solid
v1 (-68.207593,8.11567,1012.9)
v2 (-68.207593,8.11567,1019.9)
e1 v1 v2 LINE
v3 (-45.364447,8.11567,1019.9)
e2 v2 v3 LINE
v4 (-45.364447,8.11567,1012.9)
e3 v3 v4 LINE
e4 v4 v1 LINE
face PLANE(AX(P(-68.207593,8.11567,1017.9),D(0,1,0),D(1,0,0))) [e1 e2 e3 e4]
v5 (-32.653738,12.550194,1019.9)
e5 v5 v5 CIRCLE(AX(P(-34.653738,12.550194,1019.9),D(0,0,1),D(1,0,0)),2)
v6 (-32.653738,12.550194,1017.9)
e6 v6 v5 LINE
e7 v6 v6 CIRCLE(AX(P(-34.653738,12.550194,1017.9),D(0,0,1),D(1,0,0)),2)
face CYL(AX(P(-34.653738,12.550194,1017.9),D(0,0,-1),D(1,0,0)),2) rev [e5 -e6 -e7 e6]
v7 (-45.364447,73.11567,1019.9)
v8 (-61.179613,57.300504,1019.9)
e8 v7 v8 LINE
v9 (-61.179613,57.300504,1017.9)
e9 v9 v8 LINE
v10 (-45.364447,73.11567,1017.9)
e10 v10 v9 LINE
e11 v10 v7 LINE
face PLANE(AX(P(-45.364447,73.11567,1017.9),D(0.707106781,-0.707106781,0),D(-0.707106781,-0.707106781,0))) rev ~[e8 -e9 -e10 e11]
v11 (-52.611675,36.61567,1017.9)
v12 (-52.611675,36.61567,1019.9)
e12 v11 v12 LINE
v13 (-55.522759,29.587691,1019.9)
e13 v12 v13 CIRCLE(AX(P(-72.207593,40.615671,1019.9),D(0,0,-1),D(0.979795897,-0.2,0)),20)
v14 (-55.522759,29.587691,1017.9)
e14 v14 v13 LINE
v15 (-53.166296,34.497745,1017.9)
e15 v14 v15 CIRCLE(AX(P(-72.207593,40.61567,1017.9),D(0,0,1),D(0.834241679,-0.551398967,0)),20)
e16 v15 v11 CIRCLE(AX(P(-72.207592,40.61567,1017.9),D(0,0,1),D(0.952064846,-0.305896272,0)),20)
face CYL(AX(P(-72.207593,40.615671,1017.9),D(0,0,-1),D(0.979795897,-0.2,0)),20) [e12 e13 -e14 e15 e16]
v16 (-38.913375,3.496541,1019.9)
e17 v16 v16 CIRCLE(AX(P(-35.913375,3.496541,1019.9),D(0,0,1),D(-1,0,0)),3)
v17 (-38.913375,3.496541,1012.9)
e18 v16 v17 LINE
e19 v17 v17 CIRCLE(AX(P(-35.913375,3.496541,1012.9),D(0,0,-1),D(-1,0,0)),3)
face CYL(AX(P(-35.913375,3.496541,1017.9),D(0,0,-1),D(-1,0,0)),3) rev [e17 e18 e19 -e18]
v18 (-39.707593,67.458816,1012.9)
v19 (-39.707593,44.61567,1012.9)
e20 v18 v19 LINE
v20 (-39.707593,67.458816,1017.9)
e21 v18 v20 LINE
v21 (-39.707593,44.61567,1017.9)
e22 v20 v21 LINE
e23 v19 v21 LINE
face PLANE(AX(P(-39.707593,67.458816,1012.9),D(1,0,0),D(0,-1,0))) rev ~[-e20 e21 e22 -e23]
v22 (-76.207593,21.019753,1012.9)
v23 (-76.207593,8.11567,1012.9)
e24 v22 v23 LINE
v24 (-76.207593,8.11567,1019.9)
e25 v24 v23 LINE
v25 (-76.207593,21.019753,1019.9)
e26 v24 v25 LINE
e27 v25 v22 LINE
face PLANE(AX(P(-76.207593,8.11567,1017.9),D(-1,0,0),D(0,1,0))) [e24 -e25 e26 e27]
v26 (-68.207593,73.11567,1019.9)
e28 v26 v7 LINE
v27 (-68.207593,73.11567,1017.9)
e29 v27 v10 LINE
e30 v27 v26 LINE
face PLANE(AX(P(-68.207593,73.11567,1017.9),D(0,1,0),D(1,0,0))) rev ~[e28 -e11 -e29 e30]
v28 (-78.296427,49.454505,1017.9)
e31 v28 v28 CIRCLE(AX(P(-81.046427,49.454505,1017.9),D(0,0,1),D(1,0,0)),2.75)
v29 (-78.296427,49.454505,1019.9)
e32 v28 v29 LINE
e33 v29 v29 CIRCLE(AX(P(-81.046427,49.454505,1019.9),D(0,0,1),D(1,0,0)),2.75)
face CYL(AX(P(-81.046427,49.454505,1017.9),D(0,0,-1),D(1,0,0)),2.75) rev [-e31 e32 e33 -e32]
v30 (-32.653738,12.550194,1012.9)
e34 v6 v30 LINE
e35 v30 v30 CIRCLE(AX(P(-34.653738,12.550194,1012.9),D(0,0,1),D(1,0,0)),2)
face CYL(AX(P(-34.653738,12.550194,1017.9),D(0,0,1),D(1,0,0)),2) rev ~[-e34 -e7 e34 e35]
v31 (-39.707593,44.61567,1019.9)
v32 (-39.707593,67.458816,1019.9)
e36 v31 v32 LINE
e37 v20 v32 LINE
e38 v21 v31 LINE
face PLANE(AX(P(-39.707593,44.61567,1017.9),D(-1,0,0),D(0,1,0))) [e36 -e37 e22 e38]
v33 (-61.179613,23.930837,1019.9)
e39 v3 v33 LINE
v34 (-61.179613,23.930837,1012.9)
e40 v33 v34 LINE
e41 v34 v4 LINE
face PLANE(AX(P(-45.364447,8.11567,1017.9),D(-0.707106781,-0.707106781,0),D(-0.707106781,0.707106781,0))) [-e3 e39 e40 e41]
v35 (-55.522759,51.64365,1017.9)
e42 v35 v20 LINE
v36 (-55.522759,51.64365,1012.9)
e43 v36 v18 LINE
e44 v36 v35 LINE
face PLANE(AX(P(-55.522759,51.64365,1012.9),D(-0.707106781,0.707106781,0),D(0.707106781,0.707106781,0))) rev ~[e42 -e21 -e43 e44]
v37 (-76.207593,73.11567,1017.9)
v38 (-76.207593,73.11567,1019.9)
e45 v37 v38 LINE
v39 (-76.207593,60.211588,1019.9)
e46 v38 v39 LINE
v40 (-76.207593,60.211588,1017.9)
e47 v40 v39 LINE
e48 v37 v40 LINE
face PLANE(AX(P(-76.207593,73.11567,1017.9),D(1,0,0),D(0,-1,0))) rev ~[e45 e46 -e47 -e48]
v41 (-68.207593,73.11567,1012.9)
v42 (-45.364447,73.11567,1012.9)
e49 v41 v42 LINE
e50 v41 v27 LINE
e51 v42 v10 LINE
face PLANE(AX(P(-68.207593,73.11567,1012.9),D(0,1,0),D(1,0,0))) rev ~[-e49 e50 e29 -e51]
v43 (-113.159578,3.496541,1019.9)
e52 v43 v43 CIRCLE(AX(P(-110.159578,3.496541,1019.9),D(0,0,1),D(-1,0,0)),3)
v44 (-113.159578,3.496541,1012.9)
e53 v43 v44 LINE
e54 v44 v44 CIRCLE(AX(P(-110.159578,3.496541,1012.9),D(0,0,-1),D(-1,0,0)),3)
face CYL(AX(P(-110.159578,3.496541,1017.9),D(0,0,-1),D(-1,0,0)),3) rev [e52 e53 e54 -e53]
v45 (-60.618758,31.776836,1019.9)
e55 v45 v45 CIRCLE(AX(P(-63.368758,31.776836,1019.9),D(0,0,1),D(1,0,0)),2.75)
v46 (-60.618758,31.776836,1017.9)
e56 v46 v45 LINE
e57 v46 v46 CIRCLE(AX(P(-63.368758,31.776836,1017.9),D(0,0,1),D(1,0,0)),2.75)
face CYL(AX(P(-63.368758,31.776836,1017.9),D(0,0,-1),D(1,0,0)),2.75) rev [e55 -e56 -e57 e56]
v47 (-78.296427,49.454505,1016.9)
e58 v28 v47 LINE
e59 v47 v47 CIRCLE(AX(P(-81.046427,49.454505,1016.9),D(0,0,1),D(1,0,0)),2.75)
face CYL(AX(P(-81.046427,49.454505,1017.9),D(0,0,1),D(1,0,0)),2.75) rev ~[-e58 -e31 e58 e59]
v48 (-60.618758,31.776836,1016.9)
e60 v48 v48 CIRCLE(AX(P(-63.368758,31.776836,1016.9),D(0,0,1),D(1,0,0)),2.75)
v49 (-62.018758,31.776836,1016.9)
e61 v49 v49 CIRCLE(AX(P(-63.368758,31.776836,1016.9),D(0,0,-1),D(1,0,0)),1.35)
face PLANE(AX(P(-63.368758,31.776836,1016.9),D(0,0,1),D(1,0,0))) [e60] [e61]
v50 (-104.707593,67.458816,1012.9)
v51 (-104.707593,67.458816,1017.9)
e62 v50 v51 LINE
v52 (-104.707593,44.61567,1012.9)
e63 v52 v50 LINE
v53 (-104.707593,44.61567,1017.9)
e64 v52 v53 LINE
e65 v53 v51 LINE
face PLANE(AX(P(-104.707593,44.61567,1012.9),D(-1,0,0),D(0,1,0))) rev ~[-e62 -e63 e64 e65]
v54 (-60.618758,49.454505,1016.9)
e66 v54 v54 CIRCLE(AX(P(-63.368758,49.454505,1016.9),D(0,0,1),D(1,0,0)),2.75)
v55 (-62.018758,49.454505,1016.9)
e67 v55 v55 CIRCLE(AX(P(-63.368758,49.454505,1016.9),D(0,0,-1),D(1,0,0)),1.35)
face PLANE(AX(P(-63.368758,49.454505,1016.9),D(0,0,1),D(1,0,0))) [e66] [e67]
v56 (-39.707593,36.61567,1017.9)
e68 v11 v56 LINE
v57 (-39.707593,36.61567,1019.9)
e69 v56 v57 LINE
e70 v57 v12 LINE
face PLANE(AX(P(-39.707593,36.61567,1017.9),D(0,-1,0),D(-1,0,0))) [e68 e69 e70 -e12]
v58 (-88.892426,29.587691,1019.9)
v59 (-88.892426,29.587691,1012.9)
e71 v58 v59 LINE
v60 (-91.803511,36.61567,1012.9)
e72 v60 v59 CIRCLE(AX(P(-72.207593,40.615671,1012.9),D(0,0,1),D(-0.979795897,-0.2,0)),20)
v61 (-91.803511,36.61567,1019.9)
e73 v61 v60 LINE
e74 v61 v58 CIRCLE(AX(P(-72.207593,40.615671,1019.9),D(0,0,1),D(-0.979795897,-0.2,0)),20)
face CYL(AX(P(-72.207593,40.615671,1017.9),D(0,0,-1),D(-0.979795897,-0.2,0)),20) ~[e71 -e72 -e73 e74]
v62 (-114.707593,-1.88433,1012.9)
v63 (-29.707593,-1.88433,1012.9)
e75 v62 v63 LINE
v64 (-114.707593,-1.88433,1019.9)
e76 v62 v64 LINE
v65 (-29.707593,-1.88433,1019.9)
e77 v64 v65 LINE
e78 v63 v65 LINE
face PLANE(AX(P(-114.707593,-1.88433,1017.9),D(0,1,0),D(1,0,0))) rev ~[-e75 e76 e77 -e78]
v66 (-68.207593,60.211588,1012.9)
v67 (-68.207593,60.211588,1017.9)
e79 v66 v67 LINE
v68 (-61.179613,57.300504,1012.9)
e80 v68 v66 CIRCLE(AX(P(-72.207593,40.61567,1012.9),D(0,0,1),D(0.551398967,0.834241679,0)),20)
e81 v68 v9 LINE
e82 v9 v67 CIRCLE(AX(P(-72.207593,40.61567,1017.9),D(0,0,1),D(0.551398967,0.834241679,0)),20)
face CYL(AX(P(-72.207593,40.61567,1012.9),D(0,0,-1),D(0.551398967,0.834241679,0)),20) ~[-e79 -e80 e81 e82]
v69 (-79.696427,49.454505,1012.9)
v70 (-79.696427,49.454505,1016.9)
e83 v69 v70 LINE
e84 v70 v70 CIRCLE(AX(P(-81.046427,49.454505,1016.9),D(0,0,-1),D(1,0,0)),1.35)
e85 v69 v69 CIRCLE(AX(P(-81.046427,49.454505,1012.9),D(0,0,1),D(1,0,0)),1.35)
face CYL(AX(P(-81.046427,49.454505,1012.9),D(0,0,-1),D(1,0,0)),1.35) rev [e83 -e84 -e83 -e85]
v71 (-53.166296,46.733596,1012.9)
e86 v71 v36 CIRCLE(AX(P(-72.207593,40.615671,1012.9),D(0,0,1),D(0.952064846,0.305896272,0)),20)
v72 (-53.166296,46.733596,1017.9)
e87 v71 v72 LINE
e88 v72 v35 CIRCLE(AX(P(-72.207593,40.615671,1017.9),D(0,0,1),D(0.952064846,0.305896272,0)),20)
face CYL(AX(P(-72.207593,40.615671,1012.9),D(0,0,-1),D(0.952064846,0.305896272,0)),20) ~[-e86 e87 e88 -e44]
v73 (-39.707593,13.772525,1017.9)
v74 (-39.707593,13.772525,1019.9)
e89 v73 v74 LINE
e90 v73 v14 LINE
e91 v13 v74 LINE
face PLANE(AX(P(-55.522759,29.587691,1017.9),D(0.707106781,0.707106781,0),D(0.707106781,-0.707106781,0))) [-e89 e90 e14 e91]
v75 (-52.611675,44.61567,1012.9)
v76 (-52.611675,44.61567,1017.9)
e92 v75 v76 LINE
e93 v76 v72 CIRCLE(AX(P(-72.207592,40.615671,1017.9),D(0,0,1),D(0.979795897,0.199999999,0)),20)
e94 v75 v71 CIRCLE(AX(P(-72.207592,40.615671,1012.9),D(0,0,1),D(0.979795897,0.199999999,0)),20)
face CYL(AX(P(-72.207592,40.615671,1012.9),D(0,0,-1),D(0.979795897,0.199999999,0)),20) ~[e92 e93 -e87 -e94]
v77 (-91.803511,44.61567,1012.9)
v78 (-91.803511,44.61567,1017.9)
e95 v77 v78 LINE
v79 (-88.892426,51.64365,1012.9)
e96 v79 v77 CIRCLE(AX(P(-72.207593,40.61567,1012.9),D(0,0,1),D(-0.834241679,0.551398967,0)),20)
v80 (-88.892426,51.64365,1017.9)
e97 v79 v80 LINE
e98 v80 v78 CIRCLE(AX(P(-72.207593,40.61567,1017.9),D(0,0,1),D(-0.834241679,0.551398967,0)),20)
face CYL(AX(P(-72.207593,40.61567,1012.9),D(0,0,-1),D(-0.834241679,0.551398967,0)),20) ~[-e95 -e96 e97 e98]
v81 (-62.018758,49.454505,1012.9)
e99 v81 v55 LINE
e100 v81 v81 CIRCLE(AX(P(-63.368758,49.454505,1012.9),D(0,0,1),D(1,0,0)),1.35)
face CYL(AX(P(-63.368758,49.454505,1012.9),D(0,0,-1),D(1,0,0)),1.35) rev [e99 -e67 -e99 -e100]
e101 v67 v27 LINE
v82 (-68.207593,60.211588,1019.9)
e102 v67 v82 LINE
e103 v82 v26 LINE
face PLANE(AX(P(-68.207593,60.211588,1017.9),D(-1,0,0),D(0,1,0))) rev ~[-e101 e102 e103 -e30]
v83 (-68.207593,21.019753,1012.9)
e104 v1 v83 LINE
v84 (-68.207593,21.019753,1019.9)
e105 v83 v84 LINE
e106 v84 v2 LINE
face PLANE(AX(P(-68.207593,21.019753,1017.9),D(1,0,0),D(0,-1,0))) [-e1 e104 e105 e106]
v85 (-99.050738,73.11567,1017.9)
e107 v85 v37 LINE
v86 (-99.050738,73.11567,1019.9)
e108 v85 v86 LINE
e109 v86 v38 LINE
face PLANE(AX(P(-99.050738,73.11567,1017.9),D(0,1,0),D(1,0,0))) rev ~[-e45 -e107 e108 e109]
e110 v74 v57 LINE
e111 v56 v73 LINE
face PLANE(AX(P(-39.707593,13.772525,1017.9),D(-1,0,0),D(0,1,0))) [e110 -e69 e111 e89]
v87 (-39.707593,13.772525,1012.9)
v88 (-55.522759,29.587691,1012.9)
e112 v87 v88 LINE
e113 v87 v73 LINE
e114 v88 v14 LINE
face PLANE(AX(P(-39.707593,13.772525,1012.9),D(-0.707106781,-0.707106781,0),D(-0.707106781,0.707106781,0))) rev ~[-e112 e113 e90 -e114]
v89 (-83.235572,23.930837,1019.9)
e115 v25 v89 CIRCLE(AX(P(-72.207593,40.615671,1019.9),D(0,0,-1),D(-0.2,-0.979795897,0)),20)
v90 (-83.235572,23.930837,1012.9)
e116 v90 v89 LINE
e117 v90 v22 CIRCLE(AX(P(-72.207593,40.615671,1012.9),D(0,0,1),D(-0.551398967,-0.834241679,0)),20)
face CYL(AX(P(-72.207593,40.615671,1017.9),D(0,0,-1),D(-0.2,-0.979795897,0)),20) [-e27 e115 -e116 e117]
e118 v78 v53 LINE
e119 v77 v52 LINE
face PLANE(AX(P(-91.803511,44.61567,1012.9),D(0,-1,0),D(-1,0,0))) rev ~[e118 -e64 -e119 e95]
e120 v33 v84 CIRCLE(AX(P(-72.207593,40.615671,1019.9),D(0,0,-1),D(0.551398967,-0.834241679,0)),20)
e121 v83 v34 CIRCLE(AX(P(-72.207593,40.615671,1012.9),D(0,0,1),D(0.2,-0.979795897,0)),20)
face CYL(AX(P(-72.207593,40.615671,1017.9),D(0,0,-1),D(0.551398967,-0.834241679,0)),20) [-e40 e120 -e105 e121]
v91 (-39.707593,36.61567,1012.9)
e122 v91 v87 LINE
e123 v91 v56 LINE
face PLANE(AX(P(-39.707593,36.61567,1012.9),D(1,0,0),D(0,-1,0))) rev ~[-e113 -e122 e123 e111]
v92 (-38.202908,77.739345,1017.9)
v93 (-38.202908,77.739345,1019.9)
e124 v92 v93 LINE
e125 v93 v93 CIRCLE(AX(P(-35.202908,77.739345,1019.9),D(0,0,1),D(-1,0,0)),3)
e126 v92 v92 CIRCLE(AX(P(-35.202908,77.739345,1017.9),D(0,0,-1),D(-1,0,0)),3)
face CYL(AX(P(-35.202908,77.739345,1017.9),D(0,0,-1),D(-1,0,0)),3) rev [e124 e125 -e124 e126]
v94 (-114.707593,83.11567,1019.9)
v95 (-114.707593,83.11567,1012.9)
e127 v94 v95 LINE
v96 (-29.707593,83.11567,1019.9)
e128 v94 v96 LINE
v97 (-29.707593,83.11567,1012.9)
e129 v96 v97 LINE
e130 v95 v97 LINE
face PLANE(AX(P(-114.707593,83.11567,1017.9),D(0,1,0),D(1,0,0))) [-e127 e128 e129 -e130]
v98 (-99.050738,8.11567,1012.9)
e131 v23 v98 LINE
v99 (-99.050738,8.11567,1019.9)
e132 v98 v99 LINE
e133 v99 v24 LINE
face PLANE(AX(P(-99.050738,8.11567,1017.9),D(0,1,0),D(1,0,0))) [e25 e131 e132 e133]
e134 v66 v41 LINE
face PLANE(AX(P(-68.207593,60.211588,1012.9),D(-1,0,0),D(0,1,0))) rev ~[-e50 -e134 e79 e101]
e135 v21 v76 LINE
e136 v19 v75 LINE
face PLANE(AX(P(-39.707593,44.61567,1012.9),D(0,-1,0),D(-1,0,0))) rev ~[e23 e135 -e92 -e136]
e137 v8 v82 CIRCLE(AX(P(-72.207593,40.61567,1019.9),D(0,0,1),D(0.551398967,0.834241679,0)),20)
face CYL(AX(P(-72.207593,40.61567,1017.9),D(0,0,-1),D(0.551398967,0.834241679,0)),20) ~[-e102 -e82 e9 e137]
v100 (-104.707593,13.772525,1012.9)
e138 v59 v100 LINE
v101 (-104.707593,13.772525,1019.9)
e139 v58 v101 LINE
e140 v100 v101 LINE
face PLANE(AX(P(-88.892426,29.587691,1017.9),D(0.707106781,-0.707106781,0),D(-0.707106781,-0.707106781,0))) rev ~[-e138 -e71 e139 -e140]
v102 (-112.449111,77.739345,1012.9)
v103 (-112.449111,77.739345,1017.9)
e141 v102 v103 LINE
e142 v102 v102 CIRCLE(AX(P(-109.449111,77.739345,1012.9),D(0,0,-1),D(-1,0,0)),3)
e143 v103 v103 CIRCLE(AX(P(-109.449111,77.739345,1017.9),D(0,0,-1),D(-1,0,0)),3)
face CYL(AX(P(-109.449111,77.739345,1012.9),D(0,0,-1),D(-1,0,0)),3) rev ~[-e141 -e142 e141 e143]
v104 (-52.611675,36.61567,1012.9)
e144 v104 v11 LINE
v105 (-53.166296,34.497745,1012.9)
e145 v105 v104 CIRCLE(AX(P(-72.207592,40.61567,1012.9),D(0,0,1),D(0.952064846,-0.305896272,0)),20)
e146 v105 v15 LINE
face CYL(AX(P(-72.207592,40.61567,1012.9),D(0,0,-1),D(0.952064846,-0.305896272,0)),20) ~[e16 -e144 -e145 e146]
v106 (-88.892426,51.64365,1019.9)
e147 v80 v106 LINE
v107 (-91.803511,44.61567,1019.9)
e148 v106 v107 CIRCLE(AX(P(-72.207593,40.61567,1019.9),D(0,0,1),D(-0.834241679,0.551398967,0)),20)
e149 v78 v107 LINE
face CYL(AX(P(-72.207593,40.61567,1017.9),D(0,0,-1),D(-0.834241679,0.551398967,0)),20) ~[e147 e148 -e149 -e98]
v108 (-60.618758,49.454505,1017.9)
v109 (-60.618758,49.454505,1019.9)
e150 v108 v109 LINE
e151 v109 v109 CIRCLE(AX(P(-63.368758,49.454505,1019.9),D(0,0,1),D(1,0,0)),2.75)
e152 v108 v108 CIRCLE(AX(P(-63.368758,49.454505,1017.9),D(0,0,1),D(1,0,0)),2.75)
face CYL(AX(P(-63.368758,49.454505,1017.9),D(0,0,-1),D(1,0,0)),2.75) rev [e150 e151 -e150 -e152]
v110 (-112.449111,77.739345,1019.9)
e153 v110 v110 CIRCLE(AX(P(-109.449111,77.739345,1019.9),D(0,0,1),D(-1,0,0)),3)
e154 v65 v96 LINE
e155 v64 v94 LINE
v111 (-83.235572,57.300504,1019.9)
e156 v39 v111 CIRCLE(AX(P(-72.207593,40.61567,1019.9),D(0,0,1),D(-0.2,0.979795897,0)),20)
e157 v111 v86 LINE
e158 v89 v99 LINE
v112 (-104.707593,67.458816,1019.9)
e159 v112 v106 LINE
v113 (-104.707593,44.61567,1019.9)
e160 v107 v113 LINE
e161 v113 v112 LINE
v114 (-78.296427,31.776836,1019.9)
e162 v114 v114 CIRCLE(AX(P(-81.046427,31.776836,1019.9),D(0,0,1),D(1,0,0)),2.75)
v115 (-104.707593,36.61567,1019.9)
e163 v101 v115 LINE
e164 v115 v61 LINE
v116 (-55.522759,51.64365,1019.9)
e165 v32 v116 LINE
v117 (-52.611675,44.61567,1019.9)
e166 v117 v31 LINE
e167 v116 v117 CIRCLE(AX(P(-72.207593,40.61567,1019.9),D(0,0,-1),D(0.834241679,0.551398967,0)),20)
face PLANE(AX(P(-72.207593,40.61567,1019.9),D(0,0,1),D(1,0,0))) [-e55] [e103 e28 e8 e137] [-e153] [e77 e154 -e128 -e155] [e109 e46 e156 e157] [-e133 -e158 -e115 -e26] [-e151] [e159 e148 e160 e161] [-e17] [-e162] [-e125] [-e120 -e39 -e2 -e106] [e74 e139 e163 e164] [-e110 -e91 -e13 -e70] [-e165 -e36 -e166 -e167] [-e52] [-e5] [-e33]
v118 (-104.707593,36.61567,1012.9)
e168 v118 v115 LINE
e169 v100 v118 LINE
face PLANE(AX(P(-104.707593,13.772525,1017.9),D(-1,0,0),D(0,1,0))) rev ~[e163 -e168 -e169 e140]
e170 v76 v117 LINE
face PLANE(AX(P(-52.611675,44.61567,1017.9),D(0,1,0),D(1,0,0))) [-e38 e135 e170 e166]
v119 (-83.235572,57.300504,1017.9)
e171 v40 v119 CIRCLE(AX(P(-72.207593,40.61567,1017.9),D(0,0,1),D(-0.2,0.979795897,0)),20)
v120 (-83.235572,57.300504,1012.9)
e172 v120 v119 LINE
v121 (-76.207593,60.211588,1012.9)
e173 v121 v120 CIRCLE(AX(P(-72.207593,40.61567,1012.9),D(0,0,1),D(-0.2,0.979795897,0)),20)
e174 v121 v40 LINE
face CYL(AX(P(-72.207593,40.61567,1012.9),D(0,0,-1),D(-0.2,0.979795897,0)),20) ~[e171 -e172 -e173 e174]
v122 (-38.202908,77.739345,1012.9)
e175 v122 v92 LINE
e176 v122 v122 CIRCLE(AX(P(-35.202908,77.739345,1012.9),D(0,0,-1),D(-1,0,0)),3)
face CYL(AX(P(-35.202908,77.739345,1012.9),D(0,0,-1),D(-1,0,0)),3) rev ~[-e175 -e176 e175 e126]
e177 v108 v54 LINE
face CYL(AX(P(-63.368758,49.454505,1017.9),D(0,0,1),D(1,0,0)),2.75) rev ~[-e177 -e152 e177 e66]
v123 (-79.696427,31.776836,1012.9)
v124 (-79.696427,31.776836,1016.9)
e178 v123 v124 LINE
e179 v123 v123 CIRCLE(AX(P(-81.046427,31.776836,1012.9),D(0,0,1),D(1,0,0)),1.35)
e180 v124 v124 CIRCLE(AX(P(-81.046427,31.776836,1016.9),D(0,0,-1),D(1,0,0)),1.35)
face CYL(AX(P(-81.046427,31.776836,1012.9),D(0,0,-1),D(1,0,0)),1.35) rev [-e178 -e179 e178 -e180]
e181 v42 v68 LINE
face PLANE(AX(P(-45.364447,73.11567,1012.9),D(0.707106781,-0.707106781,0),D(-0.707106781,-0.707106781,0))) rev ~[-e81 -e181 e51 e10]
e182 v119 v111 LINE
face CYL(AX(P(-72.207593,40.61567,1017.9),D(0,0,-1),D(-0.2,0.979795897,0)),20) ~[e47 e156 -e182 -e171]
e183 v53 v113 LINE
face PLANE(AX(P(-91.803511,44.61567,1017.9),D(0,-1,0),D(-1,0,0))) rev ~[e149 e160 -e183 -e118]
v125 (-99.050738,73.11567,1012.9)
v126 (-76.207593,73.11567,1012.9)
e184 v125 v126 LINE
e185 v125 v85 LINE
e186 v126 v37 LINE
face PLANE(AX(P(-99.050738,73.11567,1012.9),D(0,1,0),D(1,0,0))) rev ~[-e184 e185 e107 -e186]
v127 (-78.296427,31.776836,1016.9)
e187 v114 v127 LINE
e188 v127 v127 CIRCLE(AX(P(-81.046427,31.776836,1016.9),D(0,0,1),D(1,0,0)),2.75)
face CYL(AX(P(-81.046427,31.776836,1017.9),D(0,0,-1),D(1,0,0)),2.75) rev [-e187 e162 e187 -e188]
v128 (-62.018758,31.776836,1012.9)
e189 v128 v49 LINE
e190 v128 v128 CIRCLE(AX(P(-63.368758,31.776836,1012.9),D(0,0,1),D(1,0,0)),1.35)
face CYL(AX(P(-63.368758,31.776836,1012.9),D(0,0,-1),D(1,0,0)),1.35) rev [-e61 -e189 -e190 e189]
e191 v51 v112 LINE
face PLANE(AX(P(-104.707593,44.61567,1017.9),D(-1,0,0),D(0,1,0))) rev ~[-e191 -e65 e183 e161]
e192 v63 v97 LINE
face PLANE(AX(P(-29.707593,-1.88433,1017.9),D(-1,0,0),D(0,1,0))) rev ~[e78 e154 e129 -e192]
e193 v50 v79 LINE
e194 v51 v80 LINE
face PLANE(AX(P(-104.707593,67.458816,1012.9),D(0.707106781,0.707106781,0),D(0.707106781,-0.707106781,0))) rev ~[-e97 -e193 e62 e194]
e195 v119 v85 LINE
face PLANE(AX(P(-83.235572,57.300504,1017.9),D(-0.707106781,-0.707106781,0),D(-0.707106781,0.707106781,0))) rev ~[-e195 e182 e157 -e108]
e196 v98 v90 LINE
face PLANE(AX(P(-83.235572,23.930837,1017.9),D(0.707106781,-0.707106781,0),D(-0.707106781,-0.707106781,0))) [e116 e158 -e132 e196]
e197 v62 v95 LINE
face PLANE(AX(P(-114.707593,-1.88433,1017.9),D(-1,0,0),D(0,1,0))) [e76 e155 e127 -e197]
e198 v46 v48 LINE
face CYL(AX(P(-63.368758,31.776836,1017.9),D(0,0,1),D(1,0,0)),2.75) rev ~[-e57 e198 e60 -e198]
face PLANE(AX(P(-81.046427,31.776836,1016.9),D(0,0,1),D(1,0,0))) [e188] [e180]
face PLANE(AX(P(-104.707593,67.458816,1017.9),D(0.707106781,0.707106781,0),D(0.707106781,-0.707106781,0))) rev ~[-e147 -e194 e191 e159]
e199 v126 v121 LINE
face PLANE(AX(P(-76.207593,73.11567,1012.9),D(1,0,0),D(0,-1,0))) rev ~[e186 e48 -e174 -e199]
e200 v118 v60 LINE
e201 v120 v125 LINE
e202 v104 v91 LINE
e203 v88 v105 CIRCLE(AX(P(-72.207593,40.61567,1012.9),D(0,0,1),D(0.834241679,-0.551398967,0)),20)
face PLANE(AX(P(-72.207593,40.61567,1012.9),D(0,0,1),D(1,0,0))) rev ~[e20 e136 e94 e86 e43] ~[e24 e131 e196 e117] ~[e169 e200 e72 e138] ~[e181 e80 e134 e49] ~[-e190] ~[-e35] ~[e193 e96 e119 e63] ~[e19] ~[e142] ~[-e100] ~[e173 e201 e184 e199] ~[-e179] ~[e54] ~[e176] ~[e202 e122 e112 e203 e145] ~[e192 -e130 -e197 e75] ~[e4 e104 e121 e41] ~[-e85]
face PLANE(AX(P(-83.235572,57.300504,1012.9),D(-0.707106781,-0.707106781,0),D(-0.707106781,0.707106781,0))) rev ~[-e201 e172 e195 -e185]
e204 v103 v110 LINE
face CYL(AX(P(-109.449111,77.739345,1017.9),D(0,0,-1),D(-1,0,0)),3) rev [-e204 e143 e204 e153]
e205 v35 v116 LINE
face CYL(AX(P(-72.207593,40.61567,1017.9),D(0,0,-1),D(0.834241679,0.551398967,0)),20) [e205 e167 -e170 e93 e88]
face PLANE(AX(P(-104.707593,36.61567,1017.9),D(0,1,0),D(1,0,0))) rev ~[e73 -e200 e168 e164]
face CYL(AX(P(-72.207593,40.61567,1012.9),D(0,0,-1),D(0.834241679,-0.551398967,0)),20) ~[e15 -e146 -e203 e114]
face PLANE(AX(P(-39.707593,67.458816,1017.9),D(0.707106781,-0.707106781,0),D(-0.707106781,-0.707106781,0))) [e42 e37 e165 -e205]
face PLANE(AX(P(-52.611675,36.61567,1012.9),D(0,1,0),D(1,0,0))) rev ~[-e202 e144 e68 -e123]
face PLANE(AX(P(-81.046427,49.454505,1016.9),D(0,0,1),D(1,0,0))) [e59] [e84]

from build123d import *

# Parameters (mm, degrees)
CROQUIS1_W              = 85
CROQUIS1_H              = 85
CROQUIS1_R              = 2.9
CROQUIS1_R_2            = 1.35
SALIENTE_EXTRUIR1_DEPTH = 5
CROQUIS3_R              = 2.75
CORTAR_EXTRUIR2_DEPTH   = 1
CROQUIS4_R              = 2
CORTAR_EXTRUIR3_DEPTH   = 142.742888627
CROQUIS5_R              = 3
CORTAR_EXTRUIR4_DEPTH   = 142.742888627
CROQUIS6_W              = 85
CROQUIS6_H              = 85
CROQUIS6_R              = 2.75
CROQUIS6_R_2            = 3
CROQUIS6_R_3            = 2
SALIENTE_EXTRUIR2_DEPTH = 2


with BuildPart() as part:
    # Croquis1 → Saliente-Extruir1 (new body)
    with BuildSketch(Plane.XY.offset(1012.9)):
        with Locations((-72.207592574, 40.615670498)):
            Rectangle(CROQUIS1_W, CROQUIS1_H)
        with BuildLine():
            Line((-99.050738324, 73.115670498), (-76.207592574, 73.115670498))
            Line((-76.207592574, 73.115670498), (-76.207592574, 60.21158844))
            ThreePointArc((-76.207592574, 60.21158844), (-72.207592574, 60.615670498), (-68.207592574, 60.21158844))
            Line((-68.207592574, 60.21158844), (-68.207592574, 73.115670498))
            Line((-68.207592574, 73.115670498), (-45.364446823, 73.115670498))
            Line((-45.364446823, 73.115670498), (-61.179613238, 57.300504083))
            ThreePointArc((-61.179613238, 57.300504083), (-58.06545695, 54.757806122), (-55.522758989, 51.643649834))
            Line((-55.522758989, 51.643649834), (-39.707592574, 67.458816249))
            Line((-39.707592574, 67.458816249), (-39.707592574, 44.615670498))
            Line((-39.707592574, 44.615670498), (-52.611674632, 44.615670498))
            ThreePointArc((-52.611674632, 44.615670498), (-52.859983028, 45.682227995), (-53.166295653, 46.733595929))
            Line((-53.166295653, 46.733595929), (-58.538384228, 46.733595929))
            ThreePointArc((-58.538384228, 46.733595929), (-59.599044399, 46.294256101), (-60.038384228, 45.233595929))
            Line((-60.038384228, 45.233595929), (-60.038384228, 35.997745067))
            ThreePointArc((-60.038384228, 35.997745067), (-59.599044399, 34.937084896), (-58.538384228, 34.497745067))
            Line((-58.538384228, 34.497745067), (-53.166295653, 34.497745067))
            ThreePointArc((-53.166295653, 34.497745067), (-52.859983028, 35.549113001), (-52.611674632, 36.615670498))
            Line((-52.611674632, 36.615670498), (-39.707592574, 36.615670498))
            Line((-39.707592574, 36.615670498), (-39.707592574, 13.772524748))
            Line((-39.707592574, 13.772524748), (-55.522758989, 29.587691162))
            ThreePointArc((-55.522758989, 29.587691162), (-58.06545695, 26.473534874), (-61.179613238, 23.930836913))
            Line((-61.179613238, 23.930836913), (-45.364446823, 8.115670498))
            Line((-45.364446823, 8.115670498), (-68.207592574, 8.115670498))
            Line((-68.207592574, 8.115670498), (-68.207592574, 21.019752556))
            ThreePointArc((-68.207592574, 21.019752556), (-72.207592574, 20.615670498), (-76.207592574, 21.019752556))
            Line((-76.207592574, 21.019752556), (-76.207592574, 8.115670498))
            Line((-76.207592574, 8.115670498), (-99.050738324, 8.115670498))
            Line((-99.050738324, 8.115670498), (-83.23557191, 23.930836913))
            ThreePointArc((-83.23557191, 23.930836913), (-86.349728198, 26.473534874), (-88.892426159, 29.587691162))
            Line((-88.892426159, 29.587691162), (-104.707592574, 13.772524748))
            Line((-104.707592574, 13.772524748), (-104.707592574, 36.615670498))
            Line((-104.707592574, 36.615670498), (-91.803510516, 36.615670498))
            ThreePointArc((-91.803510516, 36.615670498), (-92.207592574, 40.615670498), (-91.803510516, 44.615670498))
            Line((-91.803510516, 44.615670498), (-104.707592574, 44.615670498))
            Line((-104.707592574, 44.615670498), (-104.707592574, 67.458816249))
            Line((-104.707592574, 67.458816249), (-88.892426159, 51.643649834))
            ThreePointArc((-88.892426159, 51.643649834), (-86.349728198, 54.757806122), (-83.23557191, 57.300504083))
            Line((-83.23557191, 57.300504083), (-99.050738324, 73.115670498))
        make_face(mode=Mode.SUBTRACT)
        with BuildLine():
            ThreePointArc((-68.207592574, 60.21158844), (-72.207592574, 60.615670498), (-76.207592574, 60.21158844))
            ThreePointArc((-76.207592574, 60.21158844), (-79.861261221, 59.093261148), (-83.23557191, 57.300504083))
            ThreePointArc((-83.23557191, 57.300504083), (-86.349728198, 54.757806122), (-88.892426159, 51.643649834))
            ThreePointArc((-88.892426159, 51.643649834), (-90.685183224, 48.269339145), (-91.803510516, 44.615670498))
            ThreePointArc((-91.803510516, 44.615670498), (-92.207592574, 40.615670498), (-91.803510516, 36.615670498))
            ThreePointArc((-91.803510516, 36.615670498), (-90.685183224, 32.962001851), (-88.892426159, 29.587691162))
            ThreePointArc((-88.892426159, 29.587691162), (-86.349728198, 26.473534874), (-83.23557191, 23.930836913))
            ThreePointArc((-83.23557191, 23.930836913), (-79.861261221, 22.138079848), (-76.207592574, 21.019752556))
            ThreePointArc((-76.207592574, 21.019752556), (-72.207592574, 20.615670498), (-68.207592574, 21.019752556))
            ThreePointArc((-68.207592574, 21.019752556), (-64.553923927, 22.138079848), (-61.179613238, 23.930836913))
            ThreePointArc((-61.179613238, 23.930836913), (-58.06545695, 26.473534874), (-55.522758989, 29.587691162))
            ThreePointArc((-55.522758989, 29.587691162), (-54.17661208, 31.962131197), (-53.166295653, 34.497745067))
            Line((-53.166295653, 34.497745067), (-58.538384228, 34.497745067))
            ThreePointArc((-58.538384228, 34.497745067), (-59.599044399, 34.937084896), (-60.038384228, 35.997745067))
            Line((-60.038384228, 35.997745067), (-60.038384228, 45.233595929))
            ThreePointArc((-60.038384228, 45.233595929), (-59.599044399, 46.294256101), (-58.538384228, 46.733595929))
            Line((-58.538384228, 46.733595929), (-53.166295653, 46.733595929))
            ThreePointArc((-53.166295653, 46.733595929), (-54.17661208, 49.269209799), (-55.522758989, 51.643649834))
            ThreePointArc((-55.522758989, 51.643649834), (-58.06545695, 54.757806122), (-61.179613238, 57.300504083))
            ThreePointArc((-61.179613238, 57.300504083), (-64.553923927, 59.093261148), (-68.207592574, 60.21158844))
        make_face()
        with Locations((-84.228407854, 28.594855218)):
            Circle(CROQUIS1_R, mode=Mode.SUBTRACT)
        with Locations((-81.046427339, 31.776835733)):
            Circle(CROQUIS1_R_2, mode=Mode.SUBTRACT)
        with Locations((-60.186777294, 28.594855218)):
            Circle(CROQUIS1_R, mode=Mode.SUBTRACT)
        with Locations((-63.368757809, 31.776835733)):
            Circle(CROQUIS1_R_2, mode=Mode.SUBTRACT)
        with Locations((-81.046427339, 49.454505263)):
            Circle(CROQUIS1_R_2, mode=Mode.SUBTRACT)
        with Locations((-84.228407854, 52.636485778)):
            Circle(CROQUIS1_R, mode=Mode.SUBTRACT)
        with Locations((-63.368757809, 49.454505263)):
            Circle(CROQUIS1_R_2, mode=Mode.SUBTRACT)
        with Locations((-60.186777294, 52.636485778)):
            Circle(CROQUIS1_R, mode=Mode.SUBTRACT)
        with BuildLine():
            ThreePointArc((-68.207592574, 60.21158844), (-72.207592574, 60.615670498), (-76.207592574, 60.21158844))
            ThreePointArc((-76.207592574, 60.21158844), (-79.861261221, 59.093261148), (-83.23557191, 57.300504083))
            ThreePointArc((-83.23557191, 57.300504083), (-86.349728198, 54.757806122), (-88.892426159, 51.643649834))
            ThreePointArc((-88.892426159, 51.643649834), (-90.685183224, 48.269339145), (-91.803510516, 44.615670498))
            ThreePointArc((-91.803510516, 44.615670498), (-92.207592574, 40.615670498), (-91.803510516, 36.615670498))
            ThreePointArc((-91.803510516, 36.615670498), (-90.685183224, 32.962001851), (-88.892426159, 29.587691162))
            ThreePointArc((-88.892426159, 29.587691162), (-86.349728198, 26.473534874), (-83.23557191, 23.930836913))
            ThreePointArc((-83.23557191, 23.930836913), (-79.861261221, 22.138079848), (-76.207592574, 21.019752556))
            ThreePointArc((-76.207592574, 21.019752556), (-72.207592574, 20.615670498), (-68.207592574, 21.019752556))
            ThreePointArc((-68.207592574, 21.019752556), (-64.553923927, 22.138079848), (-61.179613238, 23.930836913))
            ThreePointArc((-61.179613238, 23.930836913), (-58.06545695, 26.473534874), (-55.522758989, 29.587691162))
            ThreePointArc((-55.522758989, 29.587691162), (-54.17661208, 31.962131197), (-53.166295653, 34.497745067))
            Line((-53.166295653, 34.497745067), (-58.538384228, 34.497745067))
            ThreePointArc((-58.538384228, 34.497745067), (-59.599044399, 34.937084896), (-60.038384228, 35.997745067))
            Line((-60.038384228, 35.997745067), (-60.038384228, 45.233595929))
            ThreePointArc((-60.038384228, 45.233595929), (-59.599044399, 46.294256101), (-58.538384228, 46.733595929))
            Line((-58.538384228, 46.733595929), (-53.166295653, 46.733595929))
            ThreePointArc((-53.166295653, 46.733595929), (-54.17661208, 49.269209799), (-55.522758989, 51.643649834))
            ThreePointArc((-55.522758989, 51.643649834), (-58.06545695, 54.757806122), (-61.179613238, 57.300504083))
            ThreePointArc((-61.179613238, 57.300504083), (-64.553923927, 59.093261148), (-68.207592574, 60.21158844))
        make_face()
        with Locations((-84.228407854, 28.594855218)):
            Circle(CROQUIS1_R, mode=Mode.SUBTRACT)
        with Locations((-81.046427339, 31.776835733)):
            Circle(CROQUIS1_R_2, mode=Mode.SUBTRACT)
        with Locations((-60.186777294, 28.594855218)):
            Circle(CROQUIS1_R, mode=Mode.SUBTRACT)
        with Locations((-63.368757809, 31.776835733)):
            Circle(CROQUIS1_R_2, mode=Mode.SUBTRACT)
        with Locations((-81.046427339, 49.454505263)):
            Circle(CROQUIS1_R_2, mode=Mode.SUBTRACT)
        with Locations((-84.228407854, 52.636485778)):
            Circle(CROQUIS1_R, mode=Mode.SUBTRACT)
        with Locations((-63.368757809, 49.454505263)):
            Circle(CROQUIS1_R_2, mode=Mode.SUBTRACT)
        with Locations((-60.186777294, 52.636485778)):
            Circle(CROQUIS1_R, mode=Mode.SUBTRACT)
        with BuildLine():
            ThreePointArc((-68.207592574, 60.21158844), (-72.207592574, 60.615670498), (-76.207592574, 60.21158844))
            ThreePointArc((-76.207592574, 60.21158844), (-79.861261221, 59.093261148), (-83.23557191, 57.300504083))
            ThreePointArc((-83.23557191, 57.300504083), (-86.349728198, 54.757806122), (-88.892426159, 51.643649834))
            ThreePointArc((-88.892426159, 51.643649834), (-90.685183224, 48.269339145), (-91.803510516, 44.615670498))
            ThreePointArc((-91.803510516, 44.615670498), (-92.207592574, 40.615670498), (-91.803510516, 36.615670498))
            ThreePointArc((-91.803510516, 36.615670498), (-90.685183224, 32.962001851), (-88.892426159, 29.587691162))
            ThreePointArc((-88.892426159, 29.587691162), (-86.349728198, 26.473534874), (-83.23557191, 23.930836913))
            ThreePointArc((-83.23557191, 23.930836913), (-79.861261221, 22.138079848), (-76.207592574, 21.019752556))
            ThreePointArc((-76.207592574, 21.019752556), (-72.207592574, 20.615670498), (-68.207592574, 21.019752556))
            ThreePointArc((-68.207592574, 21.019752556), (-64.553923927, 22.138079848), (-61.179613238, 23.930836913))
            ThreePointArc((-61.179613238, 23.930836913), (-58.06545695, 26.473534874), (-55.522758989, 29.587691162))
            ThreePointArc((-55.522758989, 29.587691162), (-54.17661208, 31.962131197), (-53.166295653, 34.497745067))
            Line((-53.166295653, 34.497745067), (-58.538384228, 34.497745067))
            ThreePointArc((-58.538384228, 34.497745067), (-59.599044399, 34.937084896), (-60.038384228, 35.997745067))
            Line((-60.038384228, 35.997745067), (-60.038384228, 45.233595929))
            ThreePointArc((-60.038384228, 45.233595929), (-59.599044399, 46.294256101), (-58.538384228, 46.733595929))
            Line((-58.538384228, 46.733595929), (-53.166295653, 46.733595929))
            ThreePointArc((-53.166295653, 46.733595929), (-54.17661208, 49.269209799), (-55.522758989, 51.643649834))
            ThreePointArc((-55.522758989, 51.643649834), (-58.06545695, 54.757806122), (-61.179613238, 57.300504083))
            ThreePointArc((-61.179613238, 57.300504083), (-64.553923927, 59.093261148), (-68.207592574, 60.21158844))
        make_face()
        with Locations((-84.228407854, 28.594855218)):
            Circle(CROQUIS1_R, mode=Mode.SUBTRACT)
        with Locations((-81.046427339, 31.776835733)):
            Circle(CROQUIS1_R_2, mode=Mode.SUBTRACT)
        with Locations((-60.186777294, 28.594855218)):
            Circle(CROQUIS1_R, mode=Mode.SUBTRACT)
        with Locations((-63.368757809, 31.776835733)):
            Circle(CROQUIS1_R_2, mode=Mode.SUBTRACT)
        with Locations((-81.046427339, 49.454505263)):
            Circle(CROQUIS1_R_2, mode=Mode.SUBTRACT)
        with Locations((-84.228407854, 52.636485778)):
            Circle(CROQUIS1_R, mode=Mode.SUBTRACT)
        with Locations((-63.368757809, 49.454505263)):
            Circle(CROQUIS1_R_2, mode=Mode.SUBTRACT)
        with Locations((-60.186777294, 52.636485778)):
            Circle(CROQUIS1_R, mode=Mode.SUBTRACT)
        with Locations((-60.186777294, 28.594855218)):
            Circle(CROQUIS1_R)
        with Locations((-84.228407854, 28.594855218)):
            Circle(CROQUIS1_R)
        with Locations((-84.228407854, 52.636485778)):
            Circle(CROQUIS1_R)
        with Locations((-60.186777294, 52.636485778)):
            Circle(CROQUIS1_R)
    extrude(amount=SALIENTE_EXTRUIR1_DEPTH)

    # Croquis3 → Cortar-Extruir2 (cut)
    with BuildSketch(Plane.XY.offset(1017.9)):
        with Locations((-81.046427339, 49.454505263)):
            Circle(CROQUIS3_R)
        with Locations((-63.368757809, 49.454505263)):
            Circle(CROQUIS3_R)
        with Locations((-81.046427339, 31.776835733)):
            Circle(CROQUIS3_R)
        with Locations((-63.368757809, 31.776835733)):
            Circle(CROQUIS3_R)
    extrude(amount=-CORTAR_EXTRUIR2_DEPTH, mode=Mode.SUBTRACT)

    # Croquis4 → Cortar-Extruir3 (cut, through all)
    with BuildSketch(Plane.XY.offset(1017.9)):
        with Locations((-34.653737572, 12.550194214)):
            Circle(CROQUIS4_R)
    extrude(amount=-CORTAR_EXTRUIR3_DEPTH, mode=Mode.SUBTRACT)

    # Croquis5 → Cortar-Extruir4 (cut, through all)
    with BuildSketch(Plane(origin=(0, 0, 1012.9), x_dir=(-1, 0, 0), z_dir=(0, 0, -1))):
        with Locations((109.449111254, 77.739344608)):
            Circle(CROQUIS5_R)
        with Locations((35.202908474, 77.739344608)):
            Circle(CROQUIS5_R)
        with Locations((35.913375234, 3.496541218)):
            Circle(CROQUIS5_R)
        with Locations((110.159578014, 3.496541218)):
            Circle(CROQUIS5_R)
    extrude(amount=-CORTAR_EXTRUIR4_DEPTH, mode=Mode.SUBTRACT)

    # Croquis6 → Saliente-Extruir2 (add)
    with BuildSketch(Plane.XY.offset(1017.9)):
        with Locations((-72.207592574, 40.615670498)):
            Rectangle(CROQUIS6_W, CROQUIS6_H)
        with Locations((-81.046427339, 49.454505263)):
            Circle(CROQUIS6_R, mode=Mode.SUBTRACT)
        with Locations((-63.368757809, 49.454505263)):
            Circle(CROQUIS6_R, mode=Mode.SUBTRACT)
        with Locations((-63.368757809, 31.776835733)):
            Circle(CROQUIS6_R, mode=Mode.SUBTRACT)
        with Locations((-81.046427339, 31.776835733)):
            Circle(CROQUIS6_R, mode=Mode.SUBTRACT)
        with Locations(Location((-110.159578014, 3.496541218, 0), (0, 0, 180))):
            Circle(CROQUIS6_R_2, mode=Mode.SUBTRACT)
        with Locations(Location((-35.913375234, 3.496541218, 0), (0, 0, 180))):
            Circle(CROQUIS6_R_2, mode=Mode.SUBTRACT)
        with Locations(Location((-35.202908474, 77.739344608, 0), (0, 0, 180))):
            Circle(CROQUIS6_R_2, mode=Mode.SUBTRACT)
        with Locations(Location((-109.449111254, 77.739344608, 0), (0, 0, 180))):
            Circle(CROQUIS6_R_2, mode=Mode.SUBTRACT)
        with Locations((-34.653737572, 12.550194214)):
            Circle(CROQUIS6_R_3, mode=Mode.SUBTRACT)
        with BuildLine():
            Line((-104.707592574, 44.615670498), (-104.707592574, 67.458816249))
            Line((-104.707592574, 67.458816249), (-88.892426159, 51.643649834))
            ThreePointArc((-88.892426159, 51.643649834), (-90.685183224, 48.269339145), (-91.803510516, 44.615670498))
            Line((-91.803510516, 44.615670498), (-104.707592574, 44.615670498))
        make_face(mode=Mode.SUBTRACT)
        with BuildLine():
            Line((-99.050738324, 8.115670498), (-76.207592574, 8.115670498))
            Line((-76.207592574, 8.115670498), (-76.207592574, 21.019752556))
            ThreePointArc((-76.207592574, 21.019752556), (-79.861261221, 22.138079848), (-83.23557191, 23.930836913))
            Line((-83.23557191, 23.930836913), (-99.050738324, 8.115670498))
        make_face(mode=Mode.SUBTRACT)
        with BuildLine():
            Line((-104.707592574, 13.772524748), (-104.707592574, 36.615670498))
            Line((-104.707592574, 36.615670498), (-91.803510516, 36.615670498))
            ThreePointArc((-91.803510516, 36.615670498), (-90.685183224, 32.962001851), (-88.892426159, 29.587691162))
            Line((-88.892426159, 29.587691162), (-104.707592574, 13.772524748))
        make_face(mode=Mode.SUBTRACT)
        with BuildLine():
            Line((-99.050738324, 73.115670498), (-76.207592574, 73.115670498))
            Line((-76.207592574, 73.115670498), (-76.207592574, 60.21158844))
            ThreePointArc((-76.207592574, 60.21158844), (-79.861261221, 59.093261148), (-83.23557191, 57.300504083))
            Line((-83.23557191, 57.300504083), (-99.050738324, 73.115670498))
        make_face(mode=Mode.SUBTRACT)
        with BuildLine():
            Line((-39.707592574, 13.772524748), (-39.707592574, 36.615670498))
            Line((-39.707592574, 36.615670498), (-52.611674632, 36.615670498))
            ThreePointArc((-52.611674632, 36.615670498), (-53.730001924, 32.962001851), (-55.522758989, 29.587691162))
            Line((-55.522758989, 29.587691162), (-39.707592574, 13.772524748))
        make_face(mode=Mode.SUBTRACT)
        with BuildLine():
            Line((-39.707592574, 44.615670498), (-39.707592574, 67.458816249))
            Line((-39.707592574, 67.458816249), (-55.522758989, 51.643649834))
            ThreePointArc((-55.522758989, 51.643649834), (-53.730001924, 48.269339145), (-52.611674632, 44.615670498))
            Line((-52.611674632, 44.615670498), (-39.707592574, 44.615670498))
        make_face(mode=Mode.SUBTRACT)
        with BuildLine():
            Line((-68.207592574, 8.115670498), (-45.364446823, 8.115670498))
            Line((-45.364446823, 8.115670498), (-61.179613238, 23.930836913))
            ThreePointArc((-61.179613238, 23.930836913), (-64.553923927, 22.138079848), (-68.207592574, 21.019752556))
            Line((-68.207592574, 21.019752556), (-68.207592574, 8.115670498))
        make_face(mode=Mode.SUBTRACT)
        with BuildLine():
            Line((-68.207592574, 73.115670498), (-45.364446823, 73.115670498))
            Line((-45.364446823, 73.115670498), (-61.179613238, 57.300504083))
            ThreePointArc((-61.179613238, 57.300504083), (-64.553923927, 59.093261148), (-68.207592574, 60.21158844))
            Line((-68.207592574, 60.21158844), (-68.207592574, 73.115670498))
        make_face(mode=Mode.SUBTRACT)
    extrude(amount=SALIENTE_EXTRUIR2_DEPTH)


solid = part.part
